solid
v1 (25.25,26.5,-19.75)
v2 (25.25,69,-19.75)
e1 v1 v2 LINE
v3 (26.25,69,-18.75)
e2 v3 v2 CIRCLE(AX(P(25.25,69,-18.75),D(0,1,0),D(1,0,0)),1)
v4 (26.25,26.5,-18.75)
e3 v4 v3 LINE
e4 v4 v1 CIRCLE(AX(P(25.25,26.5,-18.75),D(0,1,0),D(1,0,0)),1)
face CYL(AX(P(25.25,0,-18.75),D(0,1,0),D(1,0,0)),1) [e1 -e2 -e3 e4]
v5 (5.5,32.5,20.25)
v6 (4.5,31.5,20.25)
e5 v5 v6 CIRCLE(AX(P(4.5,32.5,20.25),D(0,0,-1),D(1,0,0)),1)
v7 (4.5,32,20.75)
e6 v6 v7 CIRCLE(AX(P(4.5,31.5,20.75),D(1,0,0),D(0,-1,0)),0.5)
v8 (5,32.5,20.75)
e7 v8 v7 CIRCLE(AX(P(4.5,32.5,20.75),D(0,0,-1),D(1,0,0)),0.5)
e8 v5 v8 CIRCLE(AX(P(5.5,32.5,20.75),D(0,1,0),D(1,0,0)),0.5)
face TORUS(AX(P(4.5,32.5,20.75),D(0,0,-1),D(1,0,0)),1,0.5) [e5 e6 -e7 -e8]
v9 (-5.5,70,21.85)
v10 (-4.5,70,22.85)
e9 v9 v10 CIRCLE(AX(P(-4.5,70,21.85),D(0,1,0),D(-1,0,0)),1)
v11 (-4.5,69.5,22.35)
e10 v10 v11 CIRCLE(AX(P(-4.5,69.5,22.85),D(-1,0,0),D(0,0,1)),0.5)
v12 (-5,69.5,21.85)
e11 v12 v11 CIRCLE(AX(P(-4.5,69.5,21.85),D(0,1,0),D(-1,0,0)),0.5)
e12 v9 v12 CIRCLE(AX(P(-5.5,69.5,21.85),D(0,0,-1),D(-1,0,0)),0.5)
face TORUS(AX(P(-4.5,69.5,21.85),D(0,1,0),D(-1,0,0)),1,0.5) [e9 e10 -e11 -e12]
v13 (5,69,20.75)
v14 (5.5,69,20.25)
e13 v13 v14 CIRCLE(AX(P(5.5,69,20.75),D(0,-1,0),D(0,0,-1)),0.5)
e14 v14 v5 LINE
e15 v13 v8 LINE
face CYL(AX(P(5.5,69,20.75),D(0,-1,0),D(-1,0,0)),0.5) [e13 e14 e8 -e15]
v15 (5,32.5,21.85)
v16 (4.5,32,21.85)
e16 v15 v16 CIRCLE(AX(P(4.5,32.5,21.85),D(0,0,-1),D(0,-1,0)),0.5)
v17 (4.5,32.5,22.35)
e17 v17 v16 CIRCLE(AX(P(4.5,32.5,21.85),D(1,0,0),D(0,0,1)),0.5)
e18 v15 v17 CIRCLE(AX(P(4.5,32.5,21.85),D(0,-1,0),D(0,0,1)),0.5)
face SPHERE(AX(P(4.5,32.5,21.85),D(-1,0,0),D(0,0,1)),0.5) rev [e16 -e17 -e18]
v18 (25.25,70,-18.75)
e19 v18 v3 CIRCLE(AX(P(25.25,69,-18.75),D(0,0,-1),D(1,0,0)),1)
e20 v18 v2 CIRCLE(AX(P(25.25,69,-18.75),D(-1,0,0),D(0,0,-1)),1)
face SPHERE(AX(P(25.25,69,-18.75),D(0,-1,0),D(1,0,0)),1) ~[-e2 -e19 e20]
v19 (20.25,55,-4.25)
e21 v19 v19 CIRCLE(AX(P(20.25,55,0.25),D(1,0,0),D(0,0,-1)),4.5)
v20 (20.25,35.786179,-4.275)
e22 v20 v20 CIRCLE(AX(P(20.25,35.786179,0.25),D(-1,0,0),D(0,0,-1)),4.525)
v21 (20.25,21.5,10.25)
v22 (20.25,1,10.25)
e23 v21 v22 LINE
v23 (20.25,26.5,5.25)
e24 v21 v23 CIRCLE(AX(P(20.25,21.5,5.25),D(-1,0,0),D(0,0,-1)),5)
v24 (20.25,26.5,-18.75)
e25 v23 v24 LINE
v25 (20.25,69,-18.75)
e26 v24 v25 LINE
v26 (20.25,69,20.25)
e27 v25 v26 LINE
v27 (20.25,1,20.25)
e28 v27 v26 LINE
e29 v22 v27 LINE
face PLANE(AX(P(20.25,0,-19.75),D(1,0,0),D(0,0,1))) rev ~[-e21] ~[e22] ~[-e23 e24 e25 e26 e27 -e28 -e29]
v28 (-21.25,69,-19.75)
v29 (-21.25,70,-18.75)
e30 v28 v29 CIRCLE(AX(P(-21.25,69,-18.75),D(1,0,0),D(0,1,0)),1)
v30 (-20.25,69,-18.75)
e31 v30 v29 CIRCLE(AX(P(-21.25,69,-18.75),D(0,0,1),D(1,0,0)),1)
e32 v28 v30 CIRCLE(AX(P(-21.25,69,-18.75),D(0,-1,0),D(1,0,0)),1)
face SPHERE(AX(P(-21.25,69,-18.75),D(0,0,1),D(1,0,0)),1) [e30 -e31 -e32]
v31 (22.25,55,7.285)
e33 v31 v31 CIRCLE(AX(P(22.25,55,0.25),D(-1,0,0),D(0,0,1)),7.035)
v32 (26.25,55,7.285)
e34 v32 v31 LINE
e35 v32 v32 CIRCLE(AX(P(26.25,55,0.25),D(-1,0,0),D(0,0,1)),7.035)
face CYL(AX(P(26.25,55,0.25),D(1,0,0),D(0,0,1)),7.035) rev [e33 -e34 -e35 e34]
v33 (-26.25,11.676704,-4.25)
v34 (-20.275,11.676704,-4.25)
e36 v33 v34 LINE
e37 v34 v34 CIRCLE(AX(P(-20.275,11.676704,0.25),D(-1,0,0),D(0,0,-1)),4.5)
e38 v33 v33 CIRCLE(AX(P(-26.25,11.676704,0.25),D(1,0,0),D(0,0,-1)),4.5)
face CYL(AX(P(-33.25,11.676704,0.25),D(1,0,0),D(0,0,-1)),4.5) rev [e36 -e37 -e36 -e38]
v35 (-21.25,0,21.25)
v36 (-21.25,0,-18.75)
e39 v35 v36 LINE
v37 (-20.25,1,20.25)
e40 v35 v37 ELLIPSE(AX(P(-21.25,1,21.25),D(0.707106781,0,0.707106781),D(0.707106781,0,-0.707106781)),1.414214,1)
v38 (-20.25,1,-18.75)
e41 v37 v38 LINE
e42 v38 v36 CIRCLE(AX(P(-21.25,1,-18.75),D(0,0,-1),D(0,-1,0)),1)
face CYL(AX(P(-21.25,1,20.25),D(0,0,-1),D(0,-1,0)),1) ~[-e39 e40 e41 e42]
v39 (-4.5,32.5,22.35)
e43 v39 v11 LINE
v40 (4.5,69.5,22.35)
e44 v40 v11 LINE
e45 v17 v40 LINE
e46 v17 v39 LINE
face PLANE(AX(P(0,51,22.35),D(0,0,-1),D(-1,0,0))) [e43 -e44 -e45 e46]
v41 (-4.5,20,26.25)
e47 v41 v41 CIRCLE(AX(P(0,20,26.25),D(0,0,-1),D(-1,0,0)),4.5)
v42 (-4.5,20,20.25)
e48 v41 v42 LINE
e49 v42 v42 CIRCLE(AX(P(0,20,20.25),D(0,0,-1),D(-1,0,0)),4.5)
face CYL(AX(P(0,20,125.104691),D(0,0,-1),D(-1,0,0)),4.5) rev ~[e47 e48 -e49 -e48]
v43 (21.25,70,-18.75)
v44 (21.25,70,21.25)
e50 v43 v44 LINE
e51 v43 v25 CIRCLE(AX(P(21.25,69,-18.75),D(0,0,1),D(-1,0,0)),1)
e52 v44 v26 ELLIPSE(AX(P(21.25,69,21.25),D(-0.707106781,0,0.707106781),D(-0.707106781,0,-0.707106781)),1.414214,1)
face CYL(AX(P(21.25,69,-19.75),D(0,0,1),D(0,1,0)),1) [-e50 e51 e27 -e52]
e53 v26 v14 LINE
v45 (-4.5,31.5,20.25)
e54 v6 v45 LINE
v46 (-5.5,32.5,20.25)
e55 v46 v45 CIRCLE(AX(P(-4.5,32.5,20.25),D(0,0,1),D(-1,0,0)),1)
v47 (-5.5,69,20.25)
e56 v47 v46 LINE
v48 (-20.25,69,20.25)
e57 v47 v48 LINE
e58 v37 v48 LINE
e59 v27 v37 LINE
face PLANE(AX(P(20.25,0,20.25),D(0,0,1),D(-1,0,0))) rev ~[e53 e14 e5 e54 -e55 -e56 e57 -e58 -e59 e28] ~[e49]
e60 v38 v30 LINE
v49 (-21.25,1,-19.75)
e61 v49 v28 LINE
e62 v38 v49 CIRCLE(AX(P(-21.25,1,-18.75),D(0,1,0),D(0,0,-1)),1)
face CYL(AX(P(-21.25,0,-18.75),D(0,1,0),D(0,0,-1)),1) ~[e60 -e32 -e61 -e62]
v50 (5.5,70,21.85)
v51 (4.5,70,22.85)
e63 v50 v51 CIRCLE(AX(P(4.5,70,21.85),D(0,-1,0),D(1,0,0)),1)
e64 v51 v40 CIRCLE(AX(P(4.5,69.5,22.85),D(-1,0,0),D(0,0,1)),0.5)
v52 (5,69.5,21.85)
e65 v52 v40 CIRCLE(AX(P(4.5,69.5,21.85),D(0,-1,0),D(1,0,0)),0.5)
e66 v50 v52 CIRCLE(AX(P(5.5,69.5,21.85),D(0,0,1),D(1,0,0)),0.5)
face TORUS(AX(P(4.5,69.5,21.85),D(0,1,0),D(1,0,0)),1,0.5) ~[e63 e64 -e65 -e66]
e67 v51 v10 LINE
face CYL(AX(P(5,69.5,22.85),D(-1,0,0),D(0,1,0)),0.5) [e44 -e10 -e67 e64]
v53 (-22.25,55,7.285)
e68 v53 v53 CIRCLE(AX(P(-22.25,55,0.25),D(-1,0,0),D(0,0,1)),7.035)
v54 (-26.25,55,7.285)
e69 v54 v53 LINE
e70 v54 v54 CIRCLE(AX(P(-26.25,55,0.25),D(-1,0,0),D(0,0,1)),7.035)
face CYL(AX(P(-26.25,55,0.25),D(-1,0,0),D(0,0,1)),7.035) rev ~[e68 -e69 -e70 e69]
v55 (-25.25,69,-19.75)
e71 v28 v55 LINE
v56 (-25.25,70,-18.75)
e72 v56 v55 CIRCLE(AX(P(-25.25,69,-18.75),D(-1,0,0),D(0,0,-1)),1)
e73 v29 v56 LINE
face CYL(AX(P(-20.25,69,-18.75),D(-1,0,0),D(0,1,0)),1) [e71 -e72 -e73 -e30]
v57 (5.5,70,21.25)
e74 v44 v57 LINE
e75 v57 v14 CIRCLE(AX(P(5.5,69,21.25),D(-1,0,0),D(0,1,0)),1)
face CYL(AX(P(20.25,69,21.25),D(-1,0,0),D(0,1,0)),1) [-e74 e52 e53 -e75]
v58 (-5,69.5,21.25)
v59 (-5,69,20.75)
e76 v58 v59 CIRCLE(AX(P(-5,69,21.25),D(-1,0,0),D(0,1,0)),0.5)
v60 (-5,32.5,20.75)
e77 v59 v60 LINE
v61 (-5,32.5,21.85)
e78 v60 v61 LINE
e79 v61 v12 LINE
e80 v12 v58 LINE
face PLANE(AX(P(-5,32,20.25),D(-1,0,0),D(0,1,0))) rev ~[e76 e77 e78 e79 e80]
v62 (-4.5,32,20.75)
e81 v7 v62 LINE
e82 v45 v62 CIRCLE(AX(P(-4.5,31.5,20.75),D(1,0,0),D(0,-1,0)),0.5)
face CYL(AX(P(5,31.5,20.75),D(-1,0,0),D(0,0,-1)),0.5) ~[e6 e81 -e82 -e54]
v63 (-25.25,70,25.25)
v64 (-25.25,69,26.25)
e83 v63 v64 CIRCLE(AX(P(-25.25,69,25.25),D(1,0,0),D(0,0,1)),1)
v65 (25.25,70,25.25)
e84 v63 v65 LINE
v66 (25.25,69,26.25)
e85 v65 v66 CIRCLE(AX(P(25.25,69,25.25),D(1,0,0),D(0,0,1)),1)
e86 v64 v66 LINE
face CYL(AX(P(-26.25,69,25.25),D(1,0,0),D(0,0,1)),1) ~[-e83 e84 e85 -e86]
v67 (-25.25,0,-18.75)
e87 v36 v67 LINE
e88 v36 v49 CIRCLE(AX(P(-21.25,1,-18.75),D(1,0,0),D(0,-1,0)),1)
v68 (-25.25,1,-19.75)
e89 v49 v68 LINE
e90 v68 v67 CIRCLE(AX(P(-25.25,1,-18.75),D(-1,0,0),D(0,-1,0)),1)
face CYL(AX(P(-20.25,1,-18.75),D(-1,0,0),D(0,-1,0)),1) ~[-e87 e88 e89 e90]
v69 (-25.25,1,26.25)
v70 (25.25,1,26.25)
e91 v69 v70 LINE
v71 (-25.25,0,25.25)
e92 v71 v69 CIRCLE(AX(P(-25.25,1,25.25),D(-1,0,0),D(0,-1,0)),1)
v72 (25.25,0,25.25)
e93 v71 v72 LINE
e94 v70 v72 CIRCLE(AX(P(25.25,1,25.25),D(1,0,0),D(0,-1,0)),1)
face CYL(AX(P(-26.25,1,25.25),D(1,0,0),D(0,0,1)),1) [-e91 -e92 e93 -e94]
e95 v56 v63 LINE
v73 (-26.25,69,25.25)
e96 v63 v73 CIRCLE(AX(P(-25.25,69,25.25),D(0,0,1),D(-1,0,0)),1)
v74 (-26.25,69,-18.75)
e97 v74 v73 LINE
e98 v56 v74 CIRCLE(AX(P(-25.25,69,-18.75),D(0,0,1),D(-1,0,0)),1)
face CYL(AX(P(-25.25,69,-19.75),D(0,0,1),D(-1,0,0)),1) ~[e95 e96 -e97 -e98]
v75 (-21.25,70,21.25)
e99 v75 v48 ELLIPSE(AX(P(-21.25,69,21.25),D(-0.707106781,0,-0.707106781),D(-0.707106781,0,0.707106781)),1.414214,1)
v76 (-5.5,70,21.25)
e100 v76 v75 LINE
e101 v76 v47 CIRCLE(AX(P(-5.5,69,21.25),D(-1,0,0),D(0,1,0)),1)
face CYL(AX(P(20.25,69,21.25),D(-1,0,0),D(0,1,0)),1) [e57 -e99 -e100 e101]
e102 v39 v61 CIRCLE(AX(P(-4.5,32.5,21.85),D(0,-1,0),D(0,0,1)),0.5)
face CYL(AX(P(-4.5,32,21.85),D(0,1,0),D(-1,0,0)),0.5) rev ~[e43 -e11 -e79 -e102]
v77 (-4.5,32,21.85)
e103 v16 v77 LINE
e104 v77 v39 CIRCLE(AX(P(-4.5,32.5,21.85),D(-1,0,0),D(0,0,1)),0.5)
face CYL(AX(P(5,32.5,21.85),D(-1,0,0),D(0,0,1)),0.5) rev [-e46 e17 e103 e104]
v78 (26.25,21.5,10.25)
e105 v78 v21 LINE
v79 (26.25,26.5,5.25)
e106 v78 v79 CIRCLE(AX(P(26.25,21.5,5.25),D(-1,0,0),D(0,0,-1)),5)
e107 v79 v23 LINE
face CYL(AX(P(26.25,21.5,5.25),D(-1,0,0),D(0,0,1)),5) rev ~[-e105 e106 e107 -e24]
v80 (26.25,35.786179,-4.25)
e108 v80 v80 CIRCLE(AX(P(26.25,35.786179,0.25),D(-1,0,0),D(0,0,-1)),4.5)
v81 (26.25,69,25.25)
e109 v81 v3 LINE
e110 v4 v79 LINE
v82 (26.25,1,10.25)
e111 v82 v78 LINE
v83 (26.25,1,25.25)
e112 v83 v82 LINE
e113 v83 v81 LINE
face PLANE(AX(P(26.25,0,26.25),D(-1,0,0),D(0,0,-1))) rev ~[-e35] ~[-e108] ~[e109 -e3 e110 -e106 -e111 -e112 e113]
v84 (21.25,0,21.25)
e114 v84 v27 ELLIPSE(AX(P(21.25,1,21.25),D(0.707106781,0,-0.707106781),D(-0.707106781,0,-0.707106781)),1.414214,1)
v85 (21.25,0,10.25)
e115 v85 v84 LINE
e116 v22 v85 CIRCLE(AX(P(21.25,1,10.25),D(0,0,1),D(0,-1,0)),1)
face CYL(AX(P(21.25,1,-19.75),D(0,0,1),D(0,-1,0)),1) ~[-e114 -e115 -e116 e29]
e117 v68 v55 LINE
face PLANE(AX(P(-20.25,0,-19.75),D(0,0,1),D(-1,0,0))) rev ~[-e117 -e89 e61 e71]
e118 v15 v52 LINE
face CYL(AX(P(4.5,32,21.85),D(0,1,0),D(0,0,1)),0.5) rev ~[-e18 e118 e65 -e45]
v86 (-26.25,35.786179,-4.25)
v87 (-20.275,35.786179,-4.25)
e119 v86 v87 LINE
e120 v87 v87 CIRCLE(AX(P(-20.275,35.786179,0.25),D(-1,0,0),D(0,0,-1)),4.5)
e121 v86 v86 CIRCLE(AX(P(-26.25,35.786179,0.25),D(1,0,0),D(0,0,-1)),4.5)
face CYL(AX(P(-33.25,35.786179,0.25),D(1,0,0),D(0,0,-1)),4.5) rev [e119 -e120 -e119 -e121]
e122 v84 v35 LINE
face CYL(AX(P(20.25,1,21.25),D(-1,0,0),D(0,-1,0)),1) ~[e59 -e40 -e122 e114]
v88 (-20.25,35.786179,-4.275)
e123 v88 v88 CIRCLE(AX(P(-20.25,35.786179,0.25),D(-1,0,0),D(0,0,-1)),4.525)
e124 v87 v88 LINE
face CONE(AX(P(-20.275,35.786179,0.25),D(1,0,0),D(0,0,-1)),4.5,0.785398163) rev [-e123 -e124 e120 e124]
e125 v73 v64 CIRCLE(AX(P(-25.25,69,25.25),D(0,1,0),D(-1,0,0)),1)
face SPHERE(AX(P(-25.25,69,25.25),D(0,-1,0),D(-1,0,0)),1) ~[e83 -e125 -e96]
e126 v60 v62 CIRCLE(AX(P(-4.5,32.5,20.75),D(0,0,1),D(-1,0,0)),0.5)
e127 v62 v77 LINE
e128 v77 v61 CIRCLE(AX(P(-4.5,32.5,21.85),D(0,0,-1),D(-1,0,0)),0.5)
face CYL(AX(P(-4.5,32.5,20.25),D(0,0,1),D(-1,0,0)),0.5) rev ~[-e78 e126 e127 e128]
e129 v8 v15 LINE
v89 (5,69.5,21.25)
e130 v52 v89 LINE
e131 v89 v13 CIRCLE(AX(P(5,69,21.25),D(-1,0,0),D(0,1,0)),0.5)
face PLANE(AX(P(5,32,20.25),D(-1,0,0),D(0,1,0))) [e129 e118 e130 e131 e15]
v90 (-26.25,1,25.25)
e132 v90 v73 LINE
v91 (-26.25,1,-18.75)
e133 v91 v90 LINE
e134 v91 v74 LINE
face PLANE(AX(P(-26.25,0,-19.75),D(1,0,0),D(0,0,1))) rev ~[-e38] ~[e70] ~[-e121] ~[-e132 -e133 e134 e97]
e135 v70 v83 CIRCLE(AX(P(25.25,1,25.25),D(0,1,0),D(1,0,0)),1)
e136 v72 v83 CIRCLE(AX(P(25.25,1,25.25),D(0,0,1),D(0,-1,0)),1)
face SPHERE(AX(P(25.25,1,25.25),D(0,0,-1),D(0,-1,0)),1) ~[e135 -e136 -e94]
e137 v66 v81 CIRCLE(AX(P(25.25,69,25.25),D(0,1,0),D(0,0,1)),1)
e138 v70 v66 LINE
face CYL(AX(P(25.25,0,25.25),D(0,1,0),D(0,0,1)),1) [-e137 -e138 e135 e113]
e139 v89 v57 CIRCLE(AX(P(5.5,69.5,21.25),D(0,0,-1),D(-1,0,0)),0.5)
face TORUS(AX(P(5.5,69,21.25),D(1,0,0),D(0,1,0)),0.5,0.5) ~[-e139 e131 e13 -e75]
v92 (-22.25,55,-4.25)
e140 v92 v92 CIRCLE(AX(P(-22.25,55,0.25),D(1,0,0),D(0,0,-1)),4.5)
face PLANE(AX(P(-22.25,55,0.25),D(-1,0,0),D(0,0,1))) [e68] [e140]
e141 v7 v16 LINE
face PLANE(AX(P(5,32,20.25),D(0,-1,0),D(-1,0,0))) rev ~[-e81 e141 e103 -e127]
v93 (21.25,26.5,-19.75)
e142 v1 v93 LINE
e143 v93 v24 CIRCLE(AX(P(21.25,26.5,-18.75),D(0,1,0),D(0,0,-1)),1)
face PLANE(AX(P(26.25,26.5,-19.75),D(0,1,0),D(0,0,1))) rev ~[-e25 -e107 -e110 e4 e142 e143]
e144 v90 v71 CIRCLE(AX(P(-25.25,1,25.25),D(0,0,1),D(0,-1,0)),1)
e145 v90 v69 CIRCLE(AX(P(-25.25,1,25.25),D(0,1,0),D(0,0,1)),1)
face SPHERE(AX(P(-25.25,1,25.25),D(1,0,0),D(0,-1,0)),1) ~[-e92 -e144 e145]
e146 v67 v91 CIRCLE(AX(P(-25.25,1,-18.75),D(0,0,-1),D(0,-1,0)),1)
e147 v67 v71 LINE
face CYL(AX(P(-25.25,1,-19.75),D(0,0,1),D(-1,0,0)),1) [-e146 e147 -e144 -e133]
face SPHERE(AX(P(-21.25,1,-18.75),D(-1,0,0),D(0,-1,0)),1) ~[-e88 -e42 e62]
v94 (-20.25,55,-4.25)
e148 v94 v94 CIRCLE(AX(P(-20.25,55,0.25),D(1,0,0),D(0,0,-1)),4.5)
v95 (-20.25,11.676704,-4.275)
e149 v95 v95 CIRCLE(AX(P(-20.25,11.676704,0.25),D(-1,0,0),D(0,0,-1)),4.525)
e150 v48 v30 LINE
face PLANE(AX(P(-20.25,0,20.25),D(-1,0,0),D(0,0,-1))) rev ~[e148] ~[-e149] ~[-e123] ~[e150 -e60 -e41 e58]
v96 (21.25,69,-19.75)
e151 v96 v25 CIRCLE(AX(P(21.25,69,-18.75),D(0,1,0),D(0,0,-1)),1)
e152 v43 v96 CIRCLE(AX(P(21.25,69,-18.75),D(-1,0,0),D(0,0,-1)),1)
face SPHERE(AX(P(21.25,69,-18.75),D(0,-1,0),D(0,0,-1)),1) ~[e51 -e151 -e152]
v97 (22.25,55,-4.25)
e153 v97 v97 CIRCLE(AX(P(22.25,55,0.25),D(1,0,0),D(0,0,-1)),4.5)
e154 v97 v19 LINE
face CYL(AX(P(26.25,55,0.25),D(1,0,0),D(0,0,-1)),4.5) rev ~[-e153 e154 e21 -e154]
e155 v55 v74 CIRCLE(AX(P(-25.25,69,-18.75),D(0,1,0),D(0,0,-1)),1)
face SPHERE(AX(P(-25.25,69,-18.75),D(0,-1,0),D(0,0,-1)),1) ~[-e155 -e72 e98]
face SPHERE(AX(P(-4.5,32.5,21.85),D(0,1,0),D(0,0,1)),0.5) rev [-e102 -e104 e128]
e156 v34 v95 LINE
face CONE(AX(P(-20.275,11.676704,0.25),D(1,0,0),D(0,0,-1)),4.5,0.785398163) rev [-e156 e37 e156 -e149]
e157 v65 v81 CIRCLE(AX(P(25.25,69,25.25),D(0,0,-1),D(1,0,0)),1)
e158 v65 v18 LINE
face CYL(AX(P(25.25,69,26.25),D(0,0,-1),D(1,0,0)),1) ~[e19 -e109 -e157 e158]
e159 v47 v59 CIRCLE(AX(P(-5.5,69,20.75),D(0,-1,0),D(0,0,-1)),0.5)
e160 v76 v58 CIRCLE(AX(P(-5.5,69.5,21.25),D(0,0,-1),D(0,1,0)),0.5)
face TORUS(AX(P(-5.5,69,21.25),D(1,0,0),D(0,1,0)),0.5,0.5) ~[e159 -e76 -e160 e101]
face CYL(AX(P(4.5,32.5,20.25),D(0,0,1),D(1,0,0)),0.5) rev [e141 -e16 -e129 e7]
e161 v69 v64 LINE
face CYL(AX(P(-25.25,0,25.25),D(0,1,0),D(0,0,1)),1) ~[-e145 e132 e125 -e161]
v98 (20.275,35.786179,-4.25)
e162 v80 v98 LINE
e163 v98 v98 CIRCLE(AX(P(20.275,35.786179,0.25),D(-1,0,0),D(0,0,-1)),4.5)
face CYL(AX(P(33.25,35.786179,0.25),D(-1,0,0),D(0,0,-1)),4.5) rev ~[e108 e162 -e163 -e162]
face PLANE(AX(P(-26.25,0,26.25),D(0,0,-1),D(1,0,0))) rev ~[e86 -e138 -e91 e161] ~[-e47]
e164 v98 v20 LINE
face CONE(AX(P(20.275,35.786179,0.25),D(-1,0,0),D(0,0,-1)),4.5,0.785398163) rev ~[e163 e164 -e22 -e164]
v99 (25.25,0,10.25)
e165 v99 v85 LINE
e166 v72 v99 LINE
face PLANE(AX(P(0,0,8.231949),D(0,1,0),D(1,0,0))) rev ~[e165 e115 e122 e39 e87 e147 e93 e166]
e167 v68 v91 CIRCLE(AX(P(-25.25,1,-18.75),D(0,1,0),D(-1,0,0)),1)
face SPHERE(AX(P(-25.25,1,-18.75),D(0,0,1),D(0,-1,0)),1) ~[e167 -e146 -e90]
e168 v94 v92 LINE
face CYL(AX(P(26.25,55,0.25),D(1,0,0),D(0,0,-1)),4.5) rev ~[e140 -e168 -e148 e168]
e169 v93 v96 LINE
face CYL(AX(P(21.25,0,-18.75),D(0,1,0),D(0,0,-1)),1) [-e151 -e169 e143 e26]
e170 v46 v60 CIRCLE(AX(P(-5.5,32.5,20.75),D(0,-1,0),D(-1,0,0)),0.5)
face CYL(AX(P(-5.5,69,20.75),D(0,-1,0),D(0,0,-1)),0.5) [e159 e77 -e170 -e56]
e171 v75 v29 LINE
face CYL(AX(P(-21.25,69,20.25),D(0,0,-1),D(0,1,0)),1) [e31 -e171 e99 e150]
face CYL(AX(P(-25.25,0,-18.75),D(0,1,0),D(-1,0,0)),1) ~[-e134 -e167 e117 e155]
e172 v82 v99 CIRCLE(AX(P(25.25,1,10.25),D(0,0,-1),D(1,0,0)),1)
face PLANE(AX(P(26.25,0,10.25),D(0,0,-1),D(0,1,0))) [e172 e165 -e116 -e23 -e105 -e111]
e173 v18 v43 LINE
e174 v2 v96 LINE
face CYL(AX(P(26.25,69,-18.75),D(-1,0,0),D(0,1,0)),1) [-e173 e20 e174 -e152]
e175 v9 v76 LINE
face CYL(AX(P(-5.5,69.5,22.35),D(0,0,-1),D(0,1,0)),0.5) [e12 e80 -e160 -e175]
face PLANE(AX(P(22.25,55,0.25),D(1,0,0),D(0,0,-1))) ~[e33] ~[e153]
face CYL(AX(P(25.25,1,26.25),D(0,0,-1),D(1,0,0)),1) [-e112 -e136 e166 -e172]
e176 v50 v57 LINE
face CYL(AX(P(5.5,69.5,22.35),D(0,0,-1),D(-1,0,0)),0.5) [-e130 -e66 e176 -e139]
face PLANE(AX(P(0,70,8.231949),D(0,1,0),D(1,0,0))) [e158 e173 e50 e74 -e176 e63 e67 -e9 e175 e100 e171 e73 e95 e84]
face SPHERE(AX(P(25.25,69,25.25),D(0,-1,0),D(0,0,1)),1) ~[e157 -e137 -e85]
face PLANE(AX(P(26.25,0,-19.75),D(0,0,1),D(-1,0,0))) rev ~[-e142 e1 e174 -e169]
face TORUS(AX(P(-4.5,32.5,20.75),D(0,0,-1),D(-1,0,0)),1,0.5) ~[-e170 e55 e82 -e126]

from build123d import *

# Parameters (mm, degrees)
BOSS_EXTRUDE1_DEPTH           = 70
SKETCH8_R                     = 4.5
CUT_EXTRUDE4_DEPTH            = 53.5
SKETCH10_R                    = 7.035
CUT_EXTRUDE5_DEPTH            = 4
FILLET13_R                    = 1
M8_CLEARANCE_HOLE1_AT_2_COUNT = 2
M8_CLEARANCE_HOLE1_AT_2_PITCH = 24.109474775
CUT_EXTRUDE6_REACH            = 54.5
SKETCH21_W                    = 30
SKETCH21_H                    = 26.5
M8_CLEARANCE_HOLE2_D          = 9
FILLET14_R                    = 5
SKETCH24_W                    = 10
SKETCH24_H                    = 38
CUT_EXTRUDE7_DEPTH            = 2.1
FILLET15_R                    = 0.5


with BuildPart() as part:
    # Sketch1 → Boss-Extrude1 (new body)
    with BuildSketch(Plane(origin=(0, 0, 0), x_dir=(1, 0, 0), z_dir=(0, 1, 0))):
        Polygon((-26.25, -26.25), (26.25, -26.25), (26.25, 19.75), (20.25, 19.75), (20.25, -20.25), (-20.25, -20.25), (-20.25, 19.75), (-26.25, 19.75), align=None)
    extrude(amount=BOSS_EXTRUDE1_DEPTH)

    # Sketch8 → Cut-Extrude4 (cut, through all)
    with BuildSketch(Plane(origin=(26.25, 0, 0), x_dir=(0, 0, -1), z_dir=(1, 0, 0))):
        with Locations((-0.25, 55)):
            Circle(SKETCH8_R)
    extrude(amount=-CUT_EXTRUDE4_DEPTH, mode=Mode.SUBTRACT)

    # Sketch10 → Cut-Extrude5 (cut)
    with BuildSketch(Plane.ZY.offset(26.25)):
        with Locations((0.25, 55)):
            Circle(SKETCH10_R)
    cut_extrude5 = extrude(amount=-CUT_EXTRUDE5_DEPTH, mode=Mode.SUBTRACT)

    # Mirror1: Cut-Extrude5 across plane
    add(cut_extrude5.mirror(Plane(origin=(0, 0, 0), x_dir=(0, 0, 1), z_dir=(1, 0, 0))), mode=Mode.SUBTRACT)

    # Fillet13
    fillet13_edges = [part.edges().sort_by_distance(p)[0] for p in [
        (26.25, 0, 3.25),
        (0, 0, 26.25),
        (0, 70, 20.25),
        (-26.25, 0, 3.25),
        (-23.25, 0, -19.75),
        (-20.25, 0, 0.25),
        (0, 0, 20.25),
        (20.25, 0, 0.25),
        (-20.25, 70, 0.25),
        (20.25, 35, -19.75),
        (26.25, 35, -19.75),
        (26.25, 35, 26.25),
        (-26.25, 35, 26.25),
        (-26.25, 35, -19.75),
        (-20.25, 35, -19.75),
        (-23.25, 70, -19.75),
        (-26.25, 70, 3.25),
        (0, 70, 26.25),
        (26.25, 70, 3.25),
        (23.25, 70, -19.75),
        (20.25, 70, 0.25),
        (23.25, 0, -19.75),
    ]]
    fillet(fillet13_edges, radius=FILLET13_R)

    # Sketch18 → M8 Clearance Hole1 (revolve, cut)
    with BuildSketch(Plane(origin=(-20.25, 35.786178525, 0.25), x_dir=(0, 0, -1), z_dir=(0, 1, 0))):
        Polygon((0, 0), (0, 15.703872786), (4.5, 13), (4.5, 0.025), (4.525, 0), align=None)
    m8_clearance_hole1 = revolve(axis=Axis((-13.9, 35.786178525, 0.25), (-1, 0, 0)), mode=Mode.SUBTRACT)

    # M8 Clearance Hole1 at 2: M8 Clearance Hole1 ×2
    with Locations(*[(0, -i * M8_CLEARANCE_HOLE1_AT_2_PITCH, 0) for i in range(1, M8_CLEARANCE_HOLE1_AT_2_COUNT)]):
        add(m8_clearance_hole1, mode=Mode.SUBTRACT)

    # Mirror2: M8 Clearance Hole1 across plane
    add(m8_clearance_hole1.mirror(Plane(origin=(0, 0, 0), x_dir=(0, 0, 1), z_dir=(1, 0, 0))), mode=Mode.SUBTRACT)

    # Mirror2 copy 1 sketch → Mirror2 copy 1 (revolve, cut)
    with BuildSketch(Plane(origin=(20.25, 11.676703751, 0.25), x_dir=(0, 0, -1), z_dir=(0, 1, 0))):
        Polygon((0, 0), (0, -15.703872786), (4.5, -13), (4.5, -0.025), (4.525, 0), align=None)
    revolve(axis=Axis((13.9, 11.676703751, 0.25), (-1, 0, 0)), mode=Mode.SUBTRACT)

    # Sketch21 → Cut-Extrude6 (cut, up to next)
    with BuildSketch(Plane.ZY.offset(-26.25), mode=Mode.PRIVATE) as cut_extrude6_sk1:
        with Locations((-4.75, 13.25)):
            Rectangle(SKETCH21_W, SKETCH21_H)
    cut_extrude6_tool1 = extrude(cut_extrude6_sk1.sketch, amount=CUT_EXTRUDE6_REACH, mode=Mode.PRIVATE) & part.part
    add(cut_extrude6_tool1.solids().sort_by_distance((26.25, 13.25, -4.75))[0], mode=Mode.SUBTRACT)

    # M8 Clearance Hole2 (through all)
    with Locations(Plane.XY.offset(26.25)):
        with Locations((0, 20)):
            Hole(M8_CLEARANCE_HOLE2_D / 2)

    # Fillet14
    fillet14_edges = [part.edges().sort_by_distance(p)[0] for p in [
        (23.25, 26.5, 10.25),
    ]]
    fillet(fillet14_edges, radius=FILLET14_R)

    # Sketch24 → Cut-Extrude7 (cut)
    with BuildSketch(Plane(origin=(0, 0, 20.25), x_dir=(-1, 0, 0), z_dir=(0, 0, -1))):
        with Locations((0, 51)):
            Rectangle(SKETCH24_W, SKETCH24_H)
    extrude(amount=-CUT_EXTRUDE7_DEPTH, mode=Mode.SUBTRACT)

    # Fillet15
    fillet15_edges = [part.edges().sort_by_distance(p)[0] for p in [
        (5, 69.707106781, 20.542893219),
        (-5, 69.707106781, 20.542893219),
        (5, 70, 21.8),
        (0, 70, 22.35),
        (5, 50.5, 20.25),
        (0, 32, 20.25),
        (-5, 50.5, 20.25),
        (-5, 51, 22.35),
        (-5, 70, 21.8),
        (0, 32, 22.35),
        (-5, 32, 21.3),
        (5, 51, 22.35),
        (5, 32, 21.3),
    ]]
    fillet(fillet15_edges, radius=FILLET15_R)


solid = part.part
